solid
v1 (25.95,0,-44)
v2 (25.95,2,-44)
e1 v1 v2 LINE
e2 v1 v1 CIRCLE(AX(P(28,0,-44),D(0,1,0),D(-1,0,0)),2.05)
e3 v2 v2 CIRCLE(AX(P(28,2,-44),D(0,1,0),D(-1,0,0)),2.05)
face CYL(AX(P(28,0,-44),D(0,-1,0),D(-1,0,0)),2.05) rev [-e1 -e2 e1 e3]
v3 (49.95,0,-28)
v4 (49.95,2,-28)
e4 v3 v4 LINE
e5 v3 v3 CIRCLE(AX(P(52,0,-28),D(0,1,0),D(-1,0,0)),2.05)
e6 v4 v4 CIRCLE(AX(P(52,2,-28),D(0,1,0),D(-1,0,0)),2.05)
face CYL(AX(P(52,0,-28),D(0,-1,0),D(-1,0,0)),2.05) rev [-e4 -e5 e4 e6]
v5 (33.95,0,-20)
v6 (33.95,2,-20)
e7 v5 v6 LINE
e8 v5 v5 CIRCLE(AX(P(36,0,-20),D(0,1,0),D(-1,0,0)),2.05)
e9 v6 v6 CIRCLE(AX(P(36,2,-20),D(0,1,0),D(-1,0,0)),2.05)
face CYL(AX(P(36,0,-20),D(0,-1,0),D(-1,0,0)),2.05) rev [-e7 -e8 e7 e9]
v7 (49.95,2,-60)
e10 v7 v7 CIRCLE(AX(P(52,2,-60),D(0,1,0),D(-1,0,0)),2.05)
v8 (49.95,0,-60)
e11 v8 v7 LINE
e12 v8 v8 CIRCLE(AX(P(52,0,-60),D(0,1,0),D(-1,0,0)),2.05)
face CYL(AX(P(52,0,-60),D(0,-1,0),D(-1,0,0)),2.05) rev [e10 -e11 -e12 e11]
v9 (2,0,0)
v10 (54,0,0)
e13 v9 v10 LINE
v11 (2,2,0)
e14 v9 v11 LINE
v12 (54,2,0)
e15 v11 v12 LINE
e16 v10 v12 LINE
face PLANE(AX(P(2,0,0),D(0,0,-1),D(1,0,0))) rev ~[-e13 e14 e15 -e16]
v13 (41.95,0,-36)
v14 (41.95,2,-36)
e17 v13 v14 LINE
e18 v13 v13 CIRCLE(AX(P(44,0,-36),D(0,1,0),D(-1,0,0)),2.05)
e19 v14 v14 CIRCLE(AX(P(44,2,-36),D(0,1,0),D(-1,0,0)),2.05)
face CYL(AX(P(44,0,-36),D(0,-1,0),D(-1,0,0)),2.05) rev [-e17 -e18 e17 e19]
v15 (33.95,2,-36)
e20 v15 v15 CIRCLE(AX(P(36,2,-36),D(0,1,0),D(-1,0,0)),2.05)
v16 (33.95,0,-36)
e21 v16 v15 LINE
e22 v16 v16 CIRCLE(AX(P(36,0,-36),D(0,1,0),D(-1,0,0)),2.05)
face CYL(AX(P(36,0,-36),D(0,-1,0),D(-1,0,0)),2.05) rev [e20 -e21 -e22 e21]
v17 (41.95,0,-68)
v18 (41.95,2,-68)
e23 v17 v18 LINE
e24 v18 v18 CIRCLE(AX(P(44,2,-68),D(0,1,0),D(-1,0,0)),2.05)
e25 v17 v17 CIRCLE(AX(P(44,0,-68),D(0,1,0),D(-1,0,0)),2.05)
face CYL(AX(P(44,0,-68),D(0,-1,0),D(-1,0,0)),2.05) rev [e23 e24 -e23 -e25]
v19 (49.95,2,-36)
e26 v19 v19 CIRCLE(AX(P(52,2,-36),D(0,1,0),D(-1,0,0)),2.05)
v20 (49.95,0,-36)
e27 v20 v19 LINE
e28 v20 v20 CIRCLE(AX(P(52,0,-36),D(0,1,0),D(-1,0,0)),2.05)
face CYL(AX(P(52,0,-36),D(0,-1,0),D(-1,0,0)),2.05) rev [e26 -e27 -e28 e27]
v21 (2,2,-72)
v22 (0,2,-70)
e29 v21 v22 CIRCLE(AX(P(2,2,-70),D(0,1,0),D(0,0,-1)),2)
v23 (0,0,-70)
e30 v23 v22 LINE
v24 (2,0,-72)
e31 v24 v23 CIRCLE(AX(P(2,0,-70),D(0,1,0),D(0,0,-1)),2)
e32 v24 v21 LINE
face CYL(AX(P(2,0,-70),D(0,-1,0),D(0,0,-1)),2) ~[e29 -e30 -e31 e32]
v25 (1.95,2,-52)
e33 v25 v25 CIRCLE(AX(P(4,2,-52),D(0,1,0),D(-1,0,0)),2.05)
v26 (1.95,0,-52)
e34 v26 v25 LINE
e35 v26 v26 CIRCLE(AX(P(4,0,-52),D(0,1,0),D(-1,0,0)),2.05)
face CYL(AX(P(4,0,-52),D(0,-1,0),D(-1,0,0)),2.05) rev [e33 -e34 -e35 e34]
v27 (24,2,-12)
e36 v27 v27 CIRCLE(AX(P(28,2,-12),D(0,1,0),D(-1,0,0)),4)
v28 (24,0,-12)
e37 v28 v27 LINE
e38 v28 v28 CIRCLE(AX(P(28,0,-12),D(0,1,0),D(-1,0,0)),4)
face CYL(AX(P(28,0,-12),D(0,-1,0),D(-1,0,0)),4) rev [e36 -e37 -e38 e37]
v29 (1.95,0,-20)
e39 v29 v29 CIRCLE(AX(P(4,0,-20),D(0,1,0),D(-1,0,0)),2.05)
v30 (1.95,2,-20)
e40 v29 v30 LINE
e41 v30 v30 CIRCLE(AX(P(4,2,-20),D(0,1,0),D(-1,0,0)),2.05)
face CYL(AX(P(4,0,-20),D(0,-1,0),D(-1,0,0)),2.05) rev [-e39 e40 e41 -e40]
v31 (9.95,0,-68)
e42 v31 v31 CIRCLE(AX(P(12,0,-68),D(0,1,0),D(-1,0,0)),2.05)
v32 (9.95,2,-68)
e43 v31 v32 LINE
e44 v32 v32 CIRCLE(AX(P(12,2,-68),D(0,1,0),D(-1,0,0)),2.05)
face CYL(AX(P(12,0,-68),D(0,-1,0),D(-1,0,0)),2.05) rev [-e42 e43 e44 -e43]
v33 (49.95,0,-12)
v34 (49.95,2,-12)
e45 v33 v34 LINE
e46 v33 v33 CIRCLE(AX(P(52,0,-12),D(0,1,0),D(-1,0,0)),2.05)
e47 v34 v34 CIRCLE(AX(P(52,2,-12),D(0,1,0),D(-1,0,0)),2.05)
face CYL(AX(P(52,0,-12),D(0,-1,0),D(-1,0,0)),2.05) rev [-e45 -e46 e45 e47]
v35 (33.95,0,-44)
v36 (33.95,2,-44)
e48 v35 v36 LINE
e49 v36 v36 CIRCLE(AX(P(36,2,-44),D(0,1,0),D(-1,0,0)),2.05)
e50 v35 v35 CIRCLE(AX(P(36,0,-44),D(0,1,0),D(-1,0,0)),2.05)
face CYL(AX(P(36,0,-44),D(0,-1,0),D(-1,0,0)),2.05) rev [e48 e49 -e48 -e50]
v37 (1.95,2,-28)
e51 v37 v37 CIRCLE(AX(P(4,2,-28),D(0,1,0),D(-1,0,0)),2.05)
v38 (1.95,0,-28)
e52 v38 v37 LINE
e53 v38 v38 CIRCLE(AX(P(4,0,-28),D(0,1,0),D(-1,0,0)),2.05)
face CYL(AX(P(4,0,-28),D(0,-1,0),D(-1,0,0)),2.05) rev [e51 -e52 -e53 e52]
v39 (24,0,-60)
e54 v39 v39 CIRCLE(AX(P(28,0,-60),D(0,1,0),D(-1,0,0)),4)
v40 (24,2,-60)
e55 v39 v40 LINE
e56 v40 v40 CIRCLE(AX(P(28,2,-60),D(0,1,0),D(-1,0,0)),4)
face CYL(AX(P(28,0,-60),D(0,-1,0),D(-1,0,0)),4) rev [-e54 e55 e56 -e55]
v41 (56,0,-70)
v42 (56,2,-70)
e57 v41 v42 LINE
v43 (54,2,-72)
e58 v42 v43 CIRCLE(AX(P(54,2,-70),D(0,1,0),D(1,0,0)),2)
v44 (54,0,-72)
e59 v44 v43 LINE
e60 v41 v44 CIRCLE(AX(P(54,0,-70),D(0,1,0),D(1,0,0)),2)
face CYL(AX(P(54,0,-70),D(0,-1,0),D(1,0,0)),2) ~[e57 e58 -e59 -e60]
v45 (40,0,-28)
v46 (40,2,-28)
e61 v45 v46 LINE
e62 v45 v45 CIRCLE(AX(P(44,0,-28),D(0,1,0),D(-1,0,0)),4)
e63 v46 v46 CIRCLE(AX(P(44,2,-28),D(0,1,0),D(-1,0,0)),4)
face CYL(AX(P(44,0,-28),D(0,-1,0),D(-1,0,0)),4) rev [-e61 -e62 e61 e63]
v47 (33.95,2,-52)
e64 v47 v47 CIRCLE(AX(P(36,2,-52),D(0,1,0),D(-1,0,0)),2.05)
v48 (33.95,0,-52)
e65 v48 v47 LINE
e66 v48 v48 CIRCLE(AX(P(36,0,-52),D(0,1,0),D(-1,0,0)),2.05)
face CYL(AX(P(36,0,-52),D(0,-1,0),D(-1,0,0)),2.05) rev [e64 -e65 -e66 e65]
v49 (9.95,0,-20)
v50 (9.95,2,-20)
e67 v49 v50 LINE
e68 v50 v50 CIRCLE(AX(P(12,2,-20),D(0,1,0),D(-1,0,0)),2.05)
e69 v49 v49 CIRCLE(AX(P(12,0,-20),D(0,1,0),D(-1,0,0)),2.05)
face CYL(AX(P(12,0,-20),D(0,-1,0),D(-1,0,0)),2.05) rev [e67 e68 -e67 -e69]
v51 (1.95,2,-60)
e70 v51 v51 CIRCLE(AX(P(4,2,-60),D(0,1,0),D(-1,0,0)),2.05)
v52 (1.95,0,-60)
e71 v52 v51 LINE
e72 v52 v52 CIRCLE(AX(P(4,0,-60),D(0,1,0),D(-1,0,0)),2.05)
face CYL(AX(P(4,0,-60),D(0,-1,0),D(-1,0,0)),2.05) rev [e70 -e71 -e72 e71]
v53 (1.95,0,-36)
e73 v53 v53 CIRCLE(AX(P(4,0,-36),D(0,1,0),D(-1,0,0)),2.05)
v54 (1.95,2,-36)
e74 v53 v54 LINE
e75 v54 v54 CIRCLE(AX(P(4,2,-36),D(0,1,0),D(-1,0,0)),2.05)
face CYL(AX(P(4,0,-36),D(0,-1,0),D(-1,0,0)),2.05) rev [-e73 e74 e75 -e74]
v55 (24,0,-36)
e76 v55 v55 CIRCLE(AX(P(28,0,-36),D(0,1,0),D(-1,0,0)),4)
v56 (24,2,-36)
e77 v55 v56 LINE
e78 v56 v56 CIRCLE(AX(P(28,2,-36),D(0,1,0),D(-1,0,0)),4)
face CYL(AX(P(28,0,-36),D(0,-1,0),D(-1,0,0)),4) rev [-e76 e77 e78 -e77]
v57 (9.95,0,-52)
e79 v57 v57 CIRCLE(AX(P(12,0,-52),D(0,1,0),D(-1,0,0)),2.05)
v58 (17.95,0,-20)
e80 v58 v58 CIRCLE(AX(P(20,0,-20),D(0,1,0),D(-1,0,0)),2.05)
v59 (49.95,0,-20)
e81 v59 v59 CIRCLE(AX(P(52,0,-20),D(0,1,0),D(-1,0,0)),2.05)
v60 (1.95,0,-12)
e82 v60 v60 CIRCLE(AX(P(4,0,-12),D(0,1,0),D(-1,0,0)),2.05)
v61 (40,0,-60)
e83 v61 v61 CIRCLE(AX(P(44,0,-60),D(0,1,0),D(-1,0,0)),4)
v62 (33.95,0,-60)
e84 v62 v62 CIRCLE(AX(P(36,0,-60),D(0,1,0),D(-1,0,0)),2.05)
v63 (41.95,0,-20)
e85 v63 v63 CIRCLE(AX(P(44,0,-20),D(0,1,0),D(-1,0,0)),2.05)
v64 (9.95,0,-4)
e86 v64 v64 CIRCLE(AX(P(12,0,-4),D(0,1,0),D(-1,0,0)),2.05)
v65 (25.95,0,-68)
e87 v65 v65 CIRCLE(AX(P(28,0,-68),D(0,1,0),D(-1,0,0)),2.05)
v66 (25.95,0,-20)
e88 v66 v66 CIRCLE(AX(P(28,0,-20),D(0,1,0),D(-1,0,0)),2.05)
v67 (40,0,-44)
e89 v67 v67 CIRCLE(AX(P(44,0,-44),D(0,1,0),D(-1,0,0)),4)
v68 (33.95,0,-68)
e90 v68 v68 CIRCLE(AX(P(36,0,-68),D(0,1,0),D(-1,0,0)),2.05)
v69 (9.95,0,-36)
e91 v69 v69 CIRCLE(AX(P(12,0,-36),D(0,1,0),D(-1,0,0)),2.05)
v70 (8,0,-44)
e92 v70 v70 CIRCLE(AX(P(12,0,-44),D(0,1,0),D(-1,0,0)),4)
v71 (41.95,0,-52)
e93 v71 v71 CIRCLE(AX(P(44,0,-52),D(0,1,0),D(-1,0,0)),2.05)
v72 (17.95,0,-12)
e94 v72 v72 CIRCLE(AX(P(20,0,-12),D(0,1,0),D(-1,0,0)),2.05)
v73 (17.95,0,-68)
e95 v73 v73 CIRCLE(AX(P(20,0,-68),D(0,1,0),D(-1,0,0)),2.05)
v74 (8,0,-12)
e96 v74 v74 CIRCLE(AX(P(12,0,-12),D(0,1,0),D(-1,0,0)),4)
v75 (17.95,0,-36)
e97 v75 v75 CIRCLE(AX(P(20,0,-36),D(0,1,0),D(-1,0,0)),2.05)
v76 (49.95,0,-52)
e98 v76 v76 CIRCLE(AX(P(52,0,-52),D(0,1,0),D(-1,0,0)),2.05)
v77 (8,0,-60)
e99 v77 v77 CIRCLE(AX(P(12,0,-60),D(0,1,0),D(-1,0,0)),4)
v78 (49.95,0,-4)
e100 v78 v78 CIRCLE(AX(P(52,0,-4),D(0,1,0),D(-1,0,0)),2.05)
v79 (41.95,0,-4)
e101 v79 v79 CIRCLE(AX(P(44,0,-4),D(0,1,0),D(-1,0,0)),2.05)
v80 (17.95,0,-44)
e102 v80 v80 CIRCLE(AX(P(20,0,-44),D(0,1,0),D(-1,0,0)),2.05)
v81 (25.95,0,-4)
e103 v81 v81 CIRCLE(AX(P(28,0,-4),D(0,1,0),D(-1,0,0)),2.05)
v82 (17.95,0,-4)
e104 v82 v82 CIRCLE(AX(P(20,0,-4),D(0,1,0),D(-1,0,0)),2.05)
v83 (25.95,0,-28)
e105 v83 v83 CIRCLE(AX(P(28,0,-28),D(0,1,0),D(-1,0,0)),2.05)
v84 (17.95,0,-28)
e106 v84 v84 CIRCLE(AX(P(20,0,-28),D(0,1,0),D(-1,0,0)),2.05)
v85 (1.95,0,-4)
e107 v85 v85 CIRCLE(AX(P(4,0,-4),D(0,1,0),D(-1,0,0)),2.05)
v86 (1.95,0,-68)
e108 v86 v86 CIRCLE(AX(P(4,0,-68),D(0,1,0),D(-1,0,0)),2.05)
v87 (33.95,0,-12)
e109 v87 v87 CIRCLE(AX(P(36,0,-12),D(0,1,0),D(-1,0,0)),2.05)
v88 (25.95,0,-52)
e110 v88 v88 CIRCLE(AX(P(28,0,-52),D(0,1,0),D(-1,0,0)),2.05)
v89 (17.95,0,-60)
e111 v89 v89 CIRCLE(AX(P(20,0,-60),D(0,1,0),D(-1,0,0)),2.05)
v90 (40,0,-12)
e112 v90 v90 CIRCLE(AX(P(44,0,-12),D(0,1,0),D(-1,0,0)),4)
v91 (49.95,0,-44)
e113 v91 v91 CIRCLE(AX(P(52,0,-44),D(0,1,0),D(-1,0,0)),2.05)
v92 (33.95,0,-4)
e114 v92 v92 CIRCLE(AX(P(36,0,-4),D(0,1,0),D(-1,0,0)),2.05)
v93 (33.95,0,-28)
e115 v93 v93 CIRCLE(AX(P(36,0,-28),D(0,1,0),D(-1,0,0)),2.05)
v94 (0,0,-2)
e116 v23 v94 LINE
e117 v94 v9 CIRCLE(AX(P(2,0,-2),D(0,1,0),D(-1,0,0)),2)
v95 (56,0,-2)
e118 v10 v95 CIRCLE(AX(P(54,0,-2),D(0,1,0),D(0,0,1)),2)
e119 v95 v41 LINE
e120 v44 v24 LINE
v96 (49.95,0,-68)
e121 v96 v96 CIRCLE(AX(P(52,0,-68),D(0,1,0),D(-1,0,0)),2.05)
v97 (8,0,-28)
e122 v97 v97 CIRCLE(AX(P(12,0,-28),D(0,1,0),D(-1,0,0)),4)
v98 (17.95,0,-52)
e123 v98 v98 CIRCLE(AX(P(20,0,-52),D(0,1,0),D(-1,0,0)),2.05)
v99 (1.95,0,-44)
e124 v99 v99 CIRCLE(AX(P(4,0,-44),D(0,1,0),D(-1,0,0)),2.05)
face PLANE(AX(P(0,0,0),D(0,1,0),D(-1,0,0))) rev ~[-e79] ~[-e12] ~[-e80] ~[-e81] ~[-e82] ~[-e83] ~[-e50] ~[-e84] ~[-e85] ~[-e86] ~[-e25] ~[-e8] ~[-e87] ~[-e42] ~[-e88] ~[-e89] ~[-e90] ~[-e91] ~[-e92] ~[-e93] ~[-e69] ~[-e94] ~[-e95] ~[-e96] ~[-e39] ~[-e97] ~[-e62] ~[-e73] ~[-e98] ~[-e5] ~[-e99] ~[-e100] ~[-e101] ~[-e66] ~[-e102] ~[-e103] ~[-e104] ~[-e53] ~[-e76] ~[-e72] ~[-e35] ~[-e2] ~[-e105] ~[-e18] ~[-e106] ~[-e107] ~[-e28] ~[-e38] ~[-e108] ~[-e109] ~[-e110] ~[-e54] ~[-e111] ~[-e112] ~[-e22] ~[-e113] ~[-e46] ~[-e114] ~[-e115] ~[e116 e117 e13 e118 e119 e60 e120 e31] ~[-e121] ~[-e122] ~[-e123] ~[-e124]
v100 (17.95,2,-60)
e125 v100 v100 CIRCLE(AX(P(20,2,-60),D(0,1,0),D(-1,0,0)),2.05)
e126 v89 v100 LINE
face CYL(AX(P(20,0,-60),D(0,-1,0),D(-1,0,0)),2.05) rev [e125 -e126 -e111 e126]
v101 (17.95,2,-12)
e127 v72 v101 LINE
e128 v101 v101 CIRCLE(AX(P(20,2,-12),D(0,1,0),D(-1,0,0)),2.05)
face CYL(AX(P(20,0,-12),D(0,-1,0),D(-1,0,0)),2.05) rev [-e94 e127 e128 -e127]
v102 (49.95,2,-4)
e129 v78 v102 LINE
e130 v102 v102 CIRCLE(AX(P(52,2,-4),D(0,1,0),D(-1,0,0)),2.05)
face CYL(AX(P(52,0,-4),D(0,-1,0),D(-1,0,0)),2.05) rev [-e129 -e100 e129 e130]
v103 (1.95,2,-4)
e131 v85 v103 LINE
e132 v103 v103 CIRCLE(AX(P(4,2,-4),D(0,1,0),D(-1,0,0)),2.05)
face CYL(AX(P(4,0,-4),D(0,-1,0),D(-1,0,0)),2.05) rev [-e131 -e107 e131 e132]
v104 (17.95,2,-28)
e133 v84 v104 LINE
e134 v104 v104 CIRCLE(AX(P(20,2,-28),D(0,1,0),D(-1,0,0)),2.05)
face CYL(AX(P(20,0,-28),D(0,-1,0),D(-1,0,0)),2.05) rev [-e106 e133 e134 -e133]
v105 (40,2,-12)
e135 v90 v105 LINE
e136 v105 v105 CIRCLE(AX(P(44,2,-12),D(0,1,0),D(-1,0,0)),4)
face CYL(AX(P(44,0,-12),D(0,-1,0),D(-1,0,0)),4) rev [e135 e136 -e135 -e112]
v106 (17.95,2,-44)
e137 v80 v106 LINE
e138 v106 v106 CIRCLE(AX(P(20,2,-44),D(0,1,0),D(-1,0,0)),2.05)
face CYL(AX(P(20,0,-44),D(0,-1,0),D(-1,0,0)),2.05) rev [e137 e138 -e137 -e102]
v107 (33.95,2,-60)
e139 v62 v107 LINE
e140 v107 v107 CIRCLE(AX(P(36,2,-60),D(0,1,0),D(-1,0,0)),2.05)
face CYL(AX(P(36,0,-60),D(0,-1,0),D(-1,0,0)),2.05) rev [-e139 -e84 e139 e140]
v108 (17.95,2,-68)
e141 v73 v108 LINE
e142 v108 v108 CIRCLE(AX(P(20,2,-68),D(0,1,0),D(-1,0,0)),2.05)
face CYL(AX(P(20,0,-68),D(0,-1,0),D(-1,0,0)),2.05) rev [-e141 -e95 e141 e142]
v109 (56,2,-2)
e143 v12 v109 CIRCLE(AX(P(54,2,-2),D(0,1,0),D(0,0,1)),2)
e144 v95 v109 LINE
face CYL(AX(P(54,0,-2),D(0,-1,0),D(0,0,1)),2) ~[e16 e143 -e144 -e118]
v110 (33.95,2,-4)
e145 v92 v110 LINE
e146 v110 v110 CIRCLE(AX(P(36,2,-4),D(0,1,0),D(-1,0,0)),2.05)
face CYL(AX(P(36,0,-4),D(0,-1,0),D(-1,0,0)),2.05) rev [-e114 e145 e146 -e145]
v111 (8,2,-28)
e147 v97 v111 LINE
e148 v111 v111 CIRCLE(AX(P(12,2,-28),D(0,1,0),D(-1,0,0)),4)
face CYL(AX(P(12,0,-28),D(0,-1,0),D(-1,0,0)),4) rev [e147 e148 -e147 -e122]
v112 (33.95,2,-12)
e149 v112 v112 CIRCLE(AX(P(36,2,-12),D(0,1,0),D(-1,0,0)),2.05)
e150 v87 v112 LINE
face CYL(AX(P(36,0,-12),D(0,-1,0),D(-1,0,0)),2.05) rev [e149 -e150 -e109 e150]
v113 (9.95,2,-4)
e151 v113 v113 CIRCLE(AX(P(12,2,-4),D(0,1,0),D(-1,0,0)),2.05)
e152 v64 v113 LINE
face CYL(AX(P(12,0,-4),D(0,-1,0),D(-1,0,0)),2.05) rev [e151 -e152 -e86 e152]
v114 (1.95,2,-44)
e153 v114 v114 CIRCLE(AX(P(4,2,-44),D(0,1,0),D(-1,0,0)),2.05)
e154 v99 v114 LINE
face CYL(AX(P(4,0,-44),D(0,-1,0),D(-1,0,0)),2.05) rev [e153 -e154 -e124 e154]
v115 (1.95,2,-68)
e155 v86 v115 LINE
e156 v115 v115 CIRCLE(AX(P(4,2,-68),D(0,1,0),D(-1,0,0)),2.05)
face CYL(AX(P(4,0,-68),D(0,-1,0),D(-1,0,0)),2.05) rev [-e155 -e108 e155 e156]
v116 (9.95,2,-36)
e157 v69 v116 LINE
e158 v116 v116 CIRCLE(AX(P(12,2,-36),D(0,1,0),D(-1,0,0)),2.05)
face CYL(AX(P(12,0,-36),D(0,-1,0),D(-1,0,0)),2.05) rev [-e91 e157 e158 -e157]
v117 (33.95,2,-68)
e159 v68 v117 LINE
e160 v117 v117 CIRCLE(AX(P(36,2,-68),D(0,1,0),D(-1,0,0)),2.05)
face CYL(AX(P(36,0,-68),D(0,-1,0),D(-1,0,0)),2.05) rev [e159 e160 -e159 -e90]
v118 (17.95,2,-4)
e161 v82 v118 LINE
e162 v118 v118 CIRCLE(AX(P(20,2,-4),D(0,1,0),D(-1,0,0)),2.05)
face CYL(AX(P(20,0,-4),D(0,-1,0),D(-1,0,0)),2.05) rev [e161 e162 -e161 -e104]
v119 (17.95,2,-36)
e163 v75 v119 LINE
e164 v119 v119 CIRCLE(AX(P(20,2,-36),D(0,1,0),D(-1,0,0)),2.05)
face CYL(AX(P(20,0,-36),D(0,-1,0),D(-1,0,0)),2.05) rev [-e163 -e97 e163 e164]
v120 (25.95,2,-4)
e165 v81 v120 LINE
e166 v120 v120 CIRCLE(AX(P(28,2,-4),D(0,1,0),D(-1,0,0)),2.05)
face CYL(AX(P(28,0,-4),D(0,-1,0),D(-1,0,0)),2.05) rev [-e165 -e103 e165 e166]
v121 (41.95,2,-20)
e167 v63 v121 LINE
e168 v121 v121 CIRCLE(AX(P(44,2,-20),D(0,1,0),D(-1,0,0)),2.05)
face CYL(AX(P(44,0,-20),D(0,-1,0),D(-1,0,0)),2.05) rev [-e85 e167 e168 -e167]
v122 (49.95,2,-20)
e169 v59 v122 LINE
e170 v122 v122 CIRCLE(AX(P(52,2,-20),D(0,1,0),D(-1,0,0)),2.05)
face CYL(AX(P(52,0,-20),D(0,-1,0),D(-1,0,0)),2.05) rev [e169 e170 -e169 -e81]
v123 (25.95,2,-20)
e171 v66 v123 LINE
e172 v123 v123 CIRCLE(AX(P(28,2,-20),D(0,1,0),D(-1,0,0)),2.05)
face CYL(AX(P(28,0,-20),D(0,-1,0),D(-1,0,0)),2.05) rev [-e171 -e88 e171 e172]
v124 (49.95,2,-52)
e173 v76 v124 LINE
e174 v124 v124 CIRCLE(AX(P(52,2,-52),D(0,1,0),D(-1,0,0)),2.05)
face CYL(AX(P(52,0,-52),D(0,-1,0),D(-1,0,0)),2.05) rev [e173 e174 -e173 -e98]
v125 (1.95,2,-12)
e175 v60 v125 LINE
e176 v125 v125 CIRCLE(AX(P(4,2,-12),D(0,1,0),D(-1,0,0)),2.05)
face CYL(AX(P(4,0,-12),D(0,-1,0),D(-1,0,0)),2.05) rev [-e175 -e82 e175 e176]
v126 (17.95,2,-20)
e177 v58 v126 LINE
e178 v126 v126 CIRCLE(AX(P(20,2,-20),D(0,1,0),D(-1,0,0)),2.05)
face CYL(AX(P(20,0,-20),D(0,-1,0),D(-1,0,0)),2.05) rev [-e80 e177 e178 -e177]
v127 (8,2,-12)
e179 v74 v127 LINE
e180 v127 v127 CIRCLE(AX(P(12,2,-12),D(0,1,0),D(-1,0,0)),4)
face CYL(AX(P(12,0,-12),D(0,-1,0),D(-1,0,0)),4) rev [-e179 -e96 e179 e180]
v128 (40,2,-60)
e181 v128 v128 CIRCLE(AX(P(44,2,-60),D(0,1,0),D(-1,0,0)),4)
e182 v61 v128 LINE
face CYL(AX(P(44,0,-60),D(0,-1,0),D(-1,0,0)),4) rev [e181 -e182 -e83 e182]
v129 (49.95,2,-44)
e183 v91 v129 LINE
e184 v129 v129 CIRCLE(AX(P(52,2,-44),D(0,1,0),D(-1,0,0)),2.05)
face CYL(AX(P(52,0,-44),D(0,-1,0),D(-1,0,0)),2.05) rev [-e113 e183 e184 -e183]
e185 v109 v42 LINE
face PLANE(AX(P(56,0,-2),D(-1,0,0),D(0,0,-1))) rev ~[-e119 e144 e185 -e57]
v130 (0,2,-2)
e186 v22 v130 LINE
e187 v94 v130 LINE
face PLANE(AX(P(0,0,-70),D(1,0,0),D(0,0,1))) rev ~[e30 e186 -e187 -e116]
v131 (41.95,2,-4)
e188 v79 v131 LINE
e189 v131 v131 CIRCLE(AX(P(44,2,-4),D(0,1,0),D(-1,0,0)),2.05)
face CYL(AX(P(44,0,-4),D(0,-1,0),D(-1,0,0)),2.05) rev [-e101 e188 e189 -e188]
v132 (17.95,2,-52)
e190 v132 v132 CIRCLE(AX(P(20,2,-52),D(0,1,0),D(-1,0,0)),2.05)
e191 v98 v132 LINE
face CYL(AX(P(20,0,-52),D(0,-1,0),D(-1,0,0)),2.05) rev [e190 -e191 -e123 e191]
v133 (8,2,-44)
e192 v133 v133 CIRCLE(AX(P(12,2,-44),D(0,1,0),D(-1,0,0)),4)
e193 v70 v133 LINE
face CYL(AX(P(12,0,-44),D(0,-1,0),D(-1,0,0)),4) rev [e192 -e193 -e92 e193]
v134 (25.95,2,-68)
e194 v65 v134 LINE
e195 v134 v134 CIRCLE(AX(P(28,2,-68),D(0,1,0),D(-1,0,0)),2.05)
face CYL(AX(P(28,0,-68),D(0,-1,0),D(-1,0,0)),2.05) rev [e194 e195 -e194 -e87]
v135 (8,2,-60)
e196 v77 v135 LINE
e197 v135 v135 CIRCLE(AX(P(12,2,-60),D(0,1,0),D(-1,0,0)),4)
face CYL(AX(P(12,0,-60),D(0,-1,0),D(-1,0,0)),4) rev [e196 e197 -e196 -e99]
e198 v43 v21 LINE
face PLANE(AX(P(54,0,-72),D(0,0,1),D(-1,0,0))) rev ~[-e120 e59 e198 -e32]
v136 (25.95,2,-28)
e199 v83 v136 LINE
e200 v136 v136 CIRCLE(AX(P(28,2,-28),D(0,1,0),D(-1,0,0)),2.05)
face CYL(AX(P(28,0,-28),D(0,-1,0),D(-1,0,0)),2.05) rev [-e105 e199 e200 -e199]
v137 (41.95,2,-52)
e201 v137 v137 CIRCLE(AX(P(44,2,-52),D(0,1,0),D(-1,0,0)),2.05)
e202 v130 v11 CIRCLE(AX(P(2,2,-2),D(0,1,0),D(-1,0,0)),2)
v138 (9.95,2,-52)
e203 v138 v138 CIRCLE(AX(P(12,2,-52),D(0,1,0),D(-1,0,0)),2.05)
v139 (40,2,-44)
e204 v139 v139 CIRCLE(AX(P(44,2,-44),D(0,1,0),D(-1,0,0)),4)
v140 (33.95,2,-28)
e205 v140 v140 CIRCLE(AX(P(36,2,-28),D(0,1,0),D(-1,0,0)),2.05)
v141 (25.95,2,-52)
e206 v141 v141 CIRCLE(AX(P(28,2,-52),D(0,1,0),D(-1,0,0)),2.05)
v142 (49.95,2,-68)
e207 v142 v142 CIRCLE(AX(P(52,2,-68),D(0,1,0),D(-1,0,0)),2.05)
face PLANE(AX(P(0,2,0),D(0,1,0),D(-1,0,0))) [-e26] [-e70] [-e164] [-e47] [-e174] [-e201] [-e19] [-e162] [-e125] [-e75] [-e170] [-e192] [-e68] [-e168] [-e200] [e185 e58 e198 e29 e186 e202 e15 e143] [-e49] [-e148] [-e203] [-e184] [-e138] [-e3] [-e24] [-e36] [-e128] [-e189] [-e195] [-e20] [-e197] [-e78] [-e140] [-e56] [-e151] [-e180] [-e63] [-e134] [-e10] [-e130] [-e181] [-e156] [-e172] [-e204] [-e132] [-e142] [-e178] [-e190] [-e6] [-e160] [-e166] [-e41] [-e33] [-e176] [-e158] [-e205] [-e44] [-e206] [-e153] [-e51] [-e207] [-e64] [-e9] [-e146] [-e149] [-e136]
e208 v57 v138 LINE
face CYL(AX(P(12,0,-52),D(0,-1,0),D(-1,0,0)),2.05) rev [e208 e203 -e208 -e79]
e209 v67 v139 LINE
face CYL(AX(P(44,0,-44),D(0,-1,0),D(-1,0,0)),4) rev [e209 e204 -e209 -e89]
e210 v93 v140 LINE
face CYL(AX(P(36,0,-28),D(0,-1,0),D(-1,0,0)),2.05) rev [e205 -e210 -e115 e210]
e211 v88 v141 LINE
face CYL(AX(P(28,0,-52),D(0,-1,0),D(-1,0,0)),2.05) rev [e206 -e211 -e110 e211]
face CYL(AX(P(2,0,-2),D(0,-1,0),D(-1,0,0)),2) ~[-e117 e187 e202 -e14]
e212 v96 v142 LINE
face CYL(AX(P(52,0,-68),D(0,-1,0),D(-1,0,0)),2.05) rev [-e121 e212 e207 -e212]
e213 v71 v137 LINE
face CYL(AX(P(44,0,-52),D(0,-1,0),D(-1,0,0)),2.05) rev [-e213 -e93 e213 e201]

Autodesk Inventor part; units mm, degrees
ref_plane "YZ Plane" through (0, 0, 0) normal (1, 0, 0) x (0, 1, 0)
ref_plane "XZ Plane" through (0, 0, 0) normal (0, 1, 0) x (-1, 0, 0)
ref_plane "XY Plane" through (0, 0, 0) normal (0, 0, 1) x (1, 0, 0)
sketch "Sketch1" plane through (0, 0, 0) normal (0, 1, 0) x (-1, 0, 0)
  line L0 (-2, 0) -> (-54, 0)
  line L1 (-56, -2) -> (-56, -70)
  line L2 (-54, -72) -> (-2, -72)
  line L3 (0, -70) -> (0, -2)
  arc A0 (-2, -72) -> (0, -70) centre (-2, -70) ccw
  arc A1 (-56, -70) -> (-54, -72) centre (-54, -70) ccw
  arc A2 (-54, 0) -> (-56, -2) centre (-54, -2) ccw
  arc A3 (0, -2) -> (-2, 0) centre (-2, -2) ccw
  circle A4 centre (-4, -68) radius 2.05
  circle A5 centre (-12, -68) radius 2.05
  circle A6 centre (-20, -68) radius 2.05
  circle A7 centre (-28, -68) radius 2.05
  circle A8 centre (-36, -68) radius 2.05
  circle A9 centre (-44, -68) radius 2.05
  circle A10 centre (-52, -68) radius 2.05
  circle A11 centre (-4, -60) radius 2.05
  circle A12 centre (-12, -60) radius 2.05
  circle A13 centre (-20, -60) radius 2.05
  circle A14 centre (-28, -60) radius 2.05
  circle A15 centre (-36, -60) radius 2.05
  circle A16 centre (-44, -60) radius 2.05
  circle A17 centre (-52, -60) radius 2.05
  circle A18 centre (-4, -52) radius 2.05
  circle A19 centre (-12, -52) radius 2.05
  circle A20 centre (-20, -52) radius 2.05
  circle A21 centre (-28, -52) radius 2.05
  circle A22 centre (-36, -52) radius 2.05
  circle A23 centre (-44, -52) radius 2.05
  circle A24 centre (-52, -52) radius 2.05
  circle A25 centre (-4, -44) radius 2.05
  circle A26 centre (-12, -44) radius 2.05
  circle A27 centre (-20, -44) radius 2.05
  circle A28 centre (-28, -44) radius 2.05
  circle A29 centre (-36, -44) radius 2.05
  circle A30 centre (-44, -44) radius 2.05
  circle A31 centre (-52, -44) radius 2.05
  circle A32 centre (-4, -36) radius 2.05
  circle A33 centre (-12, -36) radius 2.05
  circle A34 centre (-20, -36) radius 2.05
  circle A35 centre (-28, -36) radius 2.05
  circle A36 centre (-36, -36) radius 2.05
  circle A37 centre (-44, -36) radius 2.05
  circle A38 centre (-52, -36) radius 2.05
  circle A39 centre (-4, -28) radius 2.05
  circle A40 centre (-12, -28) radius 2.05
  circle A41 centre (-20, -28) radius 2.05
  circle A42 centre (-28, -28) radius 2.05
  circle A43 centre (-36, -28) radius 2.05
  circle A44 centre (-44, -28) radius 2.05
  circle A45 centre (-52, -28) radius 2.05
  circle A46 centre (-4, -20) radius 2.05
  circle A47 centre (-12, -20) radius 2.05
  circle A48 centre (-20, -20) radius 2.05
  circle A49 centre (-28, -20) radius 2.05
  circle A50 centre (-36, -20) radius 2.05
  circle A51 centre (-44, -20) radius 2.05
  circle A52 centre (-52, -20) radius 2.05
  circle A53 centre (-4, -12) radius 2.05
  circle A54 centre (-12, -12) radius 2.05
  circle A55 centre (-20, -12) radius 2.05
  circle A56 centre (-28, -12) radius 2.05
  circle A57 centre (-36, -12) radius 2.05
  circle A58 centre (-44, -12) radius 2.05
  circle A59 centre (-52, -12) radius 2.05
  circle A60 centre (-4, -4) radius 2.05
  circle A61 centre (-12, -4) radius 2.05
  circle A62 centre (-20, -4) radius 2.05
  circle A63 centre (-28, -4) radius 2.05
  circle A64 centre (-36, -4) radius 2.05
  circle A65 centre (-44, -4) radius 2.05
  circle A66 centre (-52, -4) radius 2.05
  circle A67 centre (-44, -12) radius 4
  circle A68 centre (-12, -12) radius 4
  circle A69 centre (-28, -12) radius 4
  circle A70 centre (-28, -36) radius 4
  circle A71 centre (-44, -28) radius 4
  circle A72 centre (-12, -28) radius 4
  circle A73 centre (-12, -44) radius 4
  circle A74 centre (-44, -44) radius 4
  circle A75 centre (-44, -60) radius 4
  circle A76 centre (-28, -60) radius 4
  circle A77 centre (-12, -60) radius 4
  point P0 (0, 0)
  point P1 (-56, -72)
  point P2 (-56, 0)
  point P3 (0, -72)
  dimension "d0" = 56
  dimension "d1" = 72
  dimension "d2" = 2
  dimension "d3" = 4.1
  dimension "d5" = 4
  dimension "d8" = 8
  dimension "d11" = 8
  dimension "d14" = 8
  dimension "d15" = 8
  dimension "d16" = 8
  dimension "d17" = 8
  dimension "d18" = 8
  dimension "d19" = 8
  dimension "d20" = 8
  dimension "d21" = 8
  dimension "d22" = 8
  dimension "d23" = 8
  dimension "d24" = 8
extrude "Extrusion1" add sketch "Sketch1" along normal blind 2 contours A3 L3 A0 L2 A1 L1 A2 L0
properties part number "Plate 7x9"
